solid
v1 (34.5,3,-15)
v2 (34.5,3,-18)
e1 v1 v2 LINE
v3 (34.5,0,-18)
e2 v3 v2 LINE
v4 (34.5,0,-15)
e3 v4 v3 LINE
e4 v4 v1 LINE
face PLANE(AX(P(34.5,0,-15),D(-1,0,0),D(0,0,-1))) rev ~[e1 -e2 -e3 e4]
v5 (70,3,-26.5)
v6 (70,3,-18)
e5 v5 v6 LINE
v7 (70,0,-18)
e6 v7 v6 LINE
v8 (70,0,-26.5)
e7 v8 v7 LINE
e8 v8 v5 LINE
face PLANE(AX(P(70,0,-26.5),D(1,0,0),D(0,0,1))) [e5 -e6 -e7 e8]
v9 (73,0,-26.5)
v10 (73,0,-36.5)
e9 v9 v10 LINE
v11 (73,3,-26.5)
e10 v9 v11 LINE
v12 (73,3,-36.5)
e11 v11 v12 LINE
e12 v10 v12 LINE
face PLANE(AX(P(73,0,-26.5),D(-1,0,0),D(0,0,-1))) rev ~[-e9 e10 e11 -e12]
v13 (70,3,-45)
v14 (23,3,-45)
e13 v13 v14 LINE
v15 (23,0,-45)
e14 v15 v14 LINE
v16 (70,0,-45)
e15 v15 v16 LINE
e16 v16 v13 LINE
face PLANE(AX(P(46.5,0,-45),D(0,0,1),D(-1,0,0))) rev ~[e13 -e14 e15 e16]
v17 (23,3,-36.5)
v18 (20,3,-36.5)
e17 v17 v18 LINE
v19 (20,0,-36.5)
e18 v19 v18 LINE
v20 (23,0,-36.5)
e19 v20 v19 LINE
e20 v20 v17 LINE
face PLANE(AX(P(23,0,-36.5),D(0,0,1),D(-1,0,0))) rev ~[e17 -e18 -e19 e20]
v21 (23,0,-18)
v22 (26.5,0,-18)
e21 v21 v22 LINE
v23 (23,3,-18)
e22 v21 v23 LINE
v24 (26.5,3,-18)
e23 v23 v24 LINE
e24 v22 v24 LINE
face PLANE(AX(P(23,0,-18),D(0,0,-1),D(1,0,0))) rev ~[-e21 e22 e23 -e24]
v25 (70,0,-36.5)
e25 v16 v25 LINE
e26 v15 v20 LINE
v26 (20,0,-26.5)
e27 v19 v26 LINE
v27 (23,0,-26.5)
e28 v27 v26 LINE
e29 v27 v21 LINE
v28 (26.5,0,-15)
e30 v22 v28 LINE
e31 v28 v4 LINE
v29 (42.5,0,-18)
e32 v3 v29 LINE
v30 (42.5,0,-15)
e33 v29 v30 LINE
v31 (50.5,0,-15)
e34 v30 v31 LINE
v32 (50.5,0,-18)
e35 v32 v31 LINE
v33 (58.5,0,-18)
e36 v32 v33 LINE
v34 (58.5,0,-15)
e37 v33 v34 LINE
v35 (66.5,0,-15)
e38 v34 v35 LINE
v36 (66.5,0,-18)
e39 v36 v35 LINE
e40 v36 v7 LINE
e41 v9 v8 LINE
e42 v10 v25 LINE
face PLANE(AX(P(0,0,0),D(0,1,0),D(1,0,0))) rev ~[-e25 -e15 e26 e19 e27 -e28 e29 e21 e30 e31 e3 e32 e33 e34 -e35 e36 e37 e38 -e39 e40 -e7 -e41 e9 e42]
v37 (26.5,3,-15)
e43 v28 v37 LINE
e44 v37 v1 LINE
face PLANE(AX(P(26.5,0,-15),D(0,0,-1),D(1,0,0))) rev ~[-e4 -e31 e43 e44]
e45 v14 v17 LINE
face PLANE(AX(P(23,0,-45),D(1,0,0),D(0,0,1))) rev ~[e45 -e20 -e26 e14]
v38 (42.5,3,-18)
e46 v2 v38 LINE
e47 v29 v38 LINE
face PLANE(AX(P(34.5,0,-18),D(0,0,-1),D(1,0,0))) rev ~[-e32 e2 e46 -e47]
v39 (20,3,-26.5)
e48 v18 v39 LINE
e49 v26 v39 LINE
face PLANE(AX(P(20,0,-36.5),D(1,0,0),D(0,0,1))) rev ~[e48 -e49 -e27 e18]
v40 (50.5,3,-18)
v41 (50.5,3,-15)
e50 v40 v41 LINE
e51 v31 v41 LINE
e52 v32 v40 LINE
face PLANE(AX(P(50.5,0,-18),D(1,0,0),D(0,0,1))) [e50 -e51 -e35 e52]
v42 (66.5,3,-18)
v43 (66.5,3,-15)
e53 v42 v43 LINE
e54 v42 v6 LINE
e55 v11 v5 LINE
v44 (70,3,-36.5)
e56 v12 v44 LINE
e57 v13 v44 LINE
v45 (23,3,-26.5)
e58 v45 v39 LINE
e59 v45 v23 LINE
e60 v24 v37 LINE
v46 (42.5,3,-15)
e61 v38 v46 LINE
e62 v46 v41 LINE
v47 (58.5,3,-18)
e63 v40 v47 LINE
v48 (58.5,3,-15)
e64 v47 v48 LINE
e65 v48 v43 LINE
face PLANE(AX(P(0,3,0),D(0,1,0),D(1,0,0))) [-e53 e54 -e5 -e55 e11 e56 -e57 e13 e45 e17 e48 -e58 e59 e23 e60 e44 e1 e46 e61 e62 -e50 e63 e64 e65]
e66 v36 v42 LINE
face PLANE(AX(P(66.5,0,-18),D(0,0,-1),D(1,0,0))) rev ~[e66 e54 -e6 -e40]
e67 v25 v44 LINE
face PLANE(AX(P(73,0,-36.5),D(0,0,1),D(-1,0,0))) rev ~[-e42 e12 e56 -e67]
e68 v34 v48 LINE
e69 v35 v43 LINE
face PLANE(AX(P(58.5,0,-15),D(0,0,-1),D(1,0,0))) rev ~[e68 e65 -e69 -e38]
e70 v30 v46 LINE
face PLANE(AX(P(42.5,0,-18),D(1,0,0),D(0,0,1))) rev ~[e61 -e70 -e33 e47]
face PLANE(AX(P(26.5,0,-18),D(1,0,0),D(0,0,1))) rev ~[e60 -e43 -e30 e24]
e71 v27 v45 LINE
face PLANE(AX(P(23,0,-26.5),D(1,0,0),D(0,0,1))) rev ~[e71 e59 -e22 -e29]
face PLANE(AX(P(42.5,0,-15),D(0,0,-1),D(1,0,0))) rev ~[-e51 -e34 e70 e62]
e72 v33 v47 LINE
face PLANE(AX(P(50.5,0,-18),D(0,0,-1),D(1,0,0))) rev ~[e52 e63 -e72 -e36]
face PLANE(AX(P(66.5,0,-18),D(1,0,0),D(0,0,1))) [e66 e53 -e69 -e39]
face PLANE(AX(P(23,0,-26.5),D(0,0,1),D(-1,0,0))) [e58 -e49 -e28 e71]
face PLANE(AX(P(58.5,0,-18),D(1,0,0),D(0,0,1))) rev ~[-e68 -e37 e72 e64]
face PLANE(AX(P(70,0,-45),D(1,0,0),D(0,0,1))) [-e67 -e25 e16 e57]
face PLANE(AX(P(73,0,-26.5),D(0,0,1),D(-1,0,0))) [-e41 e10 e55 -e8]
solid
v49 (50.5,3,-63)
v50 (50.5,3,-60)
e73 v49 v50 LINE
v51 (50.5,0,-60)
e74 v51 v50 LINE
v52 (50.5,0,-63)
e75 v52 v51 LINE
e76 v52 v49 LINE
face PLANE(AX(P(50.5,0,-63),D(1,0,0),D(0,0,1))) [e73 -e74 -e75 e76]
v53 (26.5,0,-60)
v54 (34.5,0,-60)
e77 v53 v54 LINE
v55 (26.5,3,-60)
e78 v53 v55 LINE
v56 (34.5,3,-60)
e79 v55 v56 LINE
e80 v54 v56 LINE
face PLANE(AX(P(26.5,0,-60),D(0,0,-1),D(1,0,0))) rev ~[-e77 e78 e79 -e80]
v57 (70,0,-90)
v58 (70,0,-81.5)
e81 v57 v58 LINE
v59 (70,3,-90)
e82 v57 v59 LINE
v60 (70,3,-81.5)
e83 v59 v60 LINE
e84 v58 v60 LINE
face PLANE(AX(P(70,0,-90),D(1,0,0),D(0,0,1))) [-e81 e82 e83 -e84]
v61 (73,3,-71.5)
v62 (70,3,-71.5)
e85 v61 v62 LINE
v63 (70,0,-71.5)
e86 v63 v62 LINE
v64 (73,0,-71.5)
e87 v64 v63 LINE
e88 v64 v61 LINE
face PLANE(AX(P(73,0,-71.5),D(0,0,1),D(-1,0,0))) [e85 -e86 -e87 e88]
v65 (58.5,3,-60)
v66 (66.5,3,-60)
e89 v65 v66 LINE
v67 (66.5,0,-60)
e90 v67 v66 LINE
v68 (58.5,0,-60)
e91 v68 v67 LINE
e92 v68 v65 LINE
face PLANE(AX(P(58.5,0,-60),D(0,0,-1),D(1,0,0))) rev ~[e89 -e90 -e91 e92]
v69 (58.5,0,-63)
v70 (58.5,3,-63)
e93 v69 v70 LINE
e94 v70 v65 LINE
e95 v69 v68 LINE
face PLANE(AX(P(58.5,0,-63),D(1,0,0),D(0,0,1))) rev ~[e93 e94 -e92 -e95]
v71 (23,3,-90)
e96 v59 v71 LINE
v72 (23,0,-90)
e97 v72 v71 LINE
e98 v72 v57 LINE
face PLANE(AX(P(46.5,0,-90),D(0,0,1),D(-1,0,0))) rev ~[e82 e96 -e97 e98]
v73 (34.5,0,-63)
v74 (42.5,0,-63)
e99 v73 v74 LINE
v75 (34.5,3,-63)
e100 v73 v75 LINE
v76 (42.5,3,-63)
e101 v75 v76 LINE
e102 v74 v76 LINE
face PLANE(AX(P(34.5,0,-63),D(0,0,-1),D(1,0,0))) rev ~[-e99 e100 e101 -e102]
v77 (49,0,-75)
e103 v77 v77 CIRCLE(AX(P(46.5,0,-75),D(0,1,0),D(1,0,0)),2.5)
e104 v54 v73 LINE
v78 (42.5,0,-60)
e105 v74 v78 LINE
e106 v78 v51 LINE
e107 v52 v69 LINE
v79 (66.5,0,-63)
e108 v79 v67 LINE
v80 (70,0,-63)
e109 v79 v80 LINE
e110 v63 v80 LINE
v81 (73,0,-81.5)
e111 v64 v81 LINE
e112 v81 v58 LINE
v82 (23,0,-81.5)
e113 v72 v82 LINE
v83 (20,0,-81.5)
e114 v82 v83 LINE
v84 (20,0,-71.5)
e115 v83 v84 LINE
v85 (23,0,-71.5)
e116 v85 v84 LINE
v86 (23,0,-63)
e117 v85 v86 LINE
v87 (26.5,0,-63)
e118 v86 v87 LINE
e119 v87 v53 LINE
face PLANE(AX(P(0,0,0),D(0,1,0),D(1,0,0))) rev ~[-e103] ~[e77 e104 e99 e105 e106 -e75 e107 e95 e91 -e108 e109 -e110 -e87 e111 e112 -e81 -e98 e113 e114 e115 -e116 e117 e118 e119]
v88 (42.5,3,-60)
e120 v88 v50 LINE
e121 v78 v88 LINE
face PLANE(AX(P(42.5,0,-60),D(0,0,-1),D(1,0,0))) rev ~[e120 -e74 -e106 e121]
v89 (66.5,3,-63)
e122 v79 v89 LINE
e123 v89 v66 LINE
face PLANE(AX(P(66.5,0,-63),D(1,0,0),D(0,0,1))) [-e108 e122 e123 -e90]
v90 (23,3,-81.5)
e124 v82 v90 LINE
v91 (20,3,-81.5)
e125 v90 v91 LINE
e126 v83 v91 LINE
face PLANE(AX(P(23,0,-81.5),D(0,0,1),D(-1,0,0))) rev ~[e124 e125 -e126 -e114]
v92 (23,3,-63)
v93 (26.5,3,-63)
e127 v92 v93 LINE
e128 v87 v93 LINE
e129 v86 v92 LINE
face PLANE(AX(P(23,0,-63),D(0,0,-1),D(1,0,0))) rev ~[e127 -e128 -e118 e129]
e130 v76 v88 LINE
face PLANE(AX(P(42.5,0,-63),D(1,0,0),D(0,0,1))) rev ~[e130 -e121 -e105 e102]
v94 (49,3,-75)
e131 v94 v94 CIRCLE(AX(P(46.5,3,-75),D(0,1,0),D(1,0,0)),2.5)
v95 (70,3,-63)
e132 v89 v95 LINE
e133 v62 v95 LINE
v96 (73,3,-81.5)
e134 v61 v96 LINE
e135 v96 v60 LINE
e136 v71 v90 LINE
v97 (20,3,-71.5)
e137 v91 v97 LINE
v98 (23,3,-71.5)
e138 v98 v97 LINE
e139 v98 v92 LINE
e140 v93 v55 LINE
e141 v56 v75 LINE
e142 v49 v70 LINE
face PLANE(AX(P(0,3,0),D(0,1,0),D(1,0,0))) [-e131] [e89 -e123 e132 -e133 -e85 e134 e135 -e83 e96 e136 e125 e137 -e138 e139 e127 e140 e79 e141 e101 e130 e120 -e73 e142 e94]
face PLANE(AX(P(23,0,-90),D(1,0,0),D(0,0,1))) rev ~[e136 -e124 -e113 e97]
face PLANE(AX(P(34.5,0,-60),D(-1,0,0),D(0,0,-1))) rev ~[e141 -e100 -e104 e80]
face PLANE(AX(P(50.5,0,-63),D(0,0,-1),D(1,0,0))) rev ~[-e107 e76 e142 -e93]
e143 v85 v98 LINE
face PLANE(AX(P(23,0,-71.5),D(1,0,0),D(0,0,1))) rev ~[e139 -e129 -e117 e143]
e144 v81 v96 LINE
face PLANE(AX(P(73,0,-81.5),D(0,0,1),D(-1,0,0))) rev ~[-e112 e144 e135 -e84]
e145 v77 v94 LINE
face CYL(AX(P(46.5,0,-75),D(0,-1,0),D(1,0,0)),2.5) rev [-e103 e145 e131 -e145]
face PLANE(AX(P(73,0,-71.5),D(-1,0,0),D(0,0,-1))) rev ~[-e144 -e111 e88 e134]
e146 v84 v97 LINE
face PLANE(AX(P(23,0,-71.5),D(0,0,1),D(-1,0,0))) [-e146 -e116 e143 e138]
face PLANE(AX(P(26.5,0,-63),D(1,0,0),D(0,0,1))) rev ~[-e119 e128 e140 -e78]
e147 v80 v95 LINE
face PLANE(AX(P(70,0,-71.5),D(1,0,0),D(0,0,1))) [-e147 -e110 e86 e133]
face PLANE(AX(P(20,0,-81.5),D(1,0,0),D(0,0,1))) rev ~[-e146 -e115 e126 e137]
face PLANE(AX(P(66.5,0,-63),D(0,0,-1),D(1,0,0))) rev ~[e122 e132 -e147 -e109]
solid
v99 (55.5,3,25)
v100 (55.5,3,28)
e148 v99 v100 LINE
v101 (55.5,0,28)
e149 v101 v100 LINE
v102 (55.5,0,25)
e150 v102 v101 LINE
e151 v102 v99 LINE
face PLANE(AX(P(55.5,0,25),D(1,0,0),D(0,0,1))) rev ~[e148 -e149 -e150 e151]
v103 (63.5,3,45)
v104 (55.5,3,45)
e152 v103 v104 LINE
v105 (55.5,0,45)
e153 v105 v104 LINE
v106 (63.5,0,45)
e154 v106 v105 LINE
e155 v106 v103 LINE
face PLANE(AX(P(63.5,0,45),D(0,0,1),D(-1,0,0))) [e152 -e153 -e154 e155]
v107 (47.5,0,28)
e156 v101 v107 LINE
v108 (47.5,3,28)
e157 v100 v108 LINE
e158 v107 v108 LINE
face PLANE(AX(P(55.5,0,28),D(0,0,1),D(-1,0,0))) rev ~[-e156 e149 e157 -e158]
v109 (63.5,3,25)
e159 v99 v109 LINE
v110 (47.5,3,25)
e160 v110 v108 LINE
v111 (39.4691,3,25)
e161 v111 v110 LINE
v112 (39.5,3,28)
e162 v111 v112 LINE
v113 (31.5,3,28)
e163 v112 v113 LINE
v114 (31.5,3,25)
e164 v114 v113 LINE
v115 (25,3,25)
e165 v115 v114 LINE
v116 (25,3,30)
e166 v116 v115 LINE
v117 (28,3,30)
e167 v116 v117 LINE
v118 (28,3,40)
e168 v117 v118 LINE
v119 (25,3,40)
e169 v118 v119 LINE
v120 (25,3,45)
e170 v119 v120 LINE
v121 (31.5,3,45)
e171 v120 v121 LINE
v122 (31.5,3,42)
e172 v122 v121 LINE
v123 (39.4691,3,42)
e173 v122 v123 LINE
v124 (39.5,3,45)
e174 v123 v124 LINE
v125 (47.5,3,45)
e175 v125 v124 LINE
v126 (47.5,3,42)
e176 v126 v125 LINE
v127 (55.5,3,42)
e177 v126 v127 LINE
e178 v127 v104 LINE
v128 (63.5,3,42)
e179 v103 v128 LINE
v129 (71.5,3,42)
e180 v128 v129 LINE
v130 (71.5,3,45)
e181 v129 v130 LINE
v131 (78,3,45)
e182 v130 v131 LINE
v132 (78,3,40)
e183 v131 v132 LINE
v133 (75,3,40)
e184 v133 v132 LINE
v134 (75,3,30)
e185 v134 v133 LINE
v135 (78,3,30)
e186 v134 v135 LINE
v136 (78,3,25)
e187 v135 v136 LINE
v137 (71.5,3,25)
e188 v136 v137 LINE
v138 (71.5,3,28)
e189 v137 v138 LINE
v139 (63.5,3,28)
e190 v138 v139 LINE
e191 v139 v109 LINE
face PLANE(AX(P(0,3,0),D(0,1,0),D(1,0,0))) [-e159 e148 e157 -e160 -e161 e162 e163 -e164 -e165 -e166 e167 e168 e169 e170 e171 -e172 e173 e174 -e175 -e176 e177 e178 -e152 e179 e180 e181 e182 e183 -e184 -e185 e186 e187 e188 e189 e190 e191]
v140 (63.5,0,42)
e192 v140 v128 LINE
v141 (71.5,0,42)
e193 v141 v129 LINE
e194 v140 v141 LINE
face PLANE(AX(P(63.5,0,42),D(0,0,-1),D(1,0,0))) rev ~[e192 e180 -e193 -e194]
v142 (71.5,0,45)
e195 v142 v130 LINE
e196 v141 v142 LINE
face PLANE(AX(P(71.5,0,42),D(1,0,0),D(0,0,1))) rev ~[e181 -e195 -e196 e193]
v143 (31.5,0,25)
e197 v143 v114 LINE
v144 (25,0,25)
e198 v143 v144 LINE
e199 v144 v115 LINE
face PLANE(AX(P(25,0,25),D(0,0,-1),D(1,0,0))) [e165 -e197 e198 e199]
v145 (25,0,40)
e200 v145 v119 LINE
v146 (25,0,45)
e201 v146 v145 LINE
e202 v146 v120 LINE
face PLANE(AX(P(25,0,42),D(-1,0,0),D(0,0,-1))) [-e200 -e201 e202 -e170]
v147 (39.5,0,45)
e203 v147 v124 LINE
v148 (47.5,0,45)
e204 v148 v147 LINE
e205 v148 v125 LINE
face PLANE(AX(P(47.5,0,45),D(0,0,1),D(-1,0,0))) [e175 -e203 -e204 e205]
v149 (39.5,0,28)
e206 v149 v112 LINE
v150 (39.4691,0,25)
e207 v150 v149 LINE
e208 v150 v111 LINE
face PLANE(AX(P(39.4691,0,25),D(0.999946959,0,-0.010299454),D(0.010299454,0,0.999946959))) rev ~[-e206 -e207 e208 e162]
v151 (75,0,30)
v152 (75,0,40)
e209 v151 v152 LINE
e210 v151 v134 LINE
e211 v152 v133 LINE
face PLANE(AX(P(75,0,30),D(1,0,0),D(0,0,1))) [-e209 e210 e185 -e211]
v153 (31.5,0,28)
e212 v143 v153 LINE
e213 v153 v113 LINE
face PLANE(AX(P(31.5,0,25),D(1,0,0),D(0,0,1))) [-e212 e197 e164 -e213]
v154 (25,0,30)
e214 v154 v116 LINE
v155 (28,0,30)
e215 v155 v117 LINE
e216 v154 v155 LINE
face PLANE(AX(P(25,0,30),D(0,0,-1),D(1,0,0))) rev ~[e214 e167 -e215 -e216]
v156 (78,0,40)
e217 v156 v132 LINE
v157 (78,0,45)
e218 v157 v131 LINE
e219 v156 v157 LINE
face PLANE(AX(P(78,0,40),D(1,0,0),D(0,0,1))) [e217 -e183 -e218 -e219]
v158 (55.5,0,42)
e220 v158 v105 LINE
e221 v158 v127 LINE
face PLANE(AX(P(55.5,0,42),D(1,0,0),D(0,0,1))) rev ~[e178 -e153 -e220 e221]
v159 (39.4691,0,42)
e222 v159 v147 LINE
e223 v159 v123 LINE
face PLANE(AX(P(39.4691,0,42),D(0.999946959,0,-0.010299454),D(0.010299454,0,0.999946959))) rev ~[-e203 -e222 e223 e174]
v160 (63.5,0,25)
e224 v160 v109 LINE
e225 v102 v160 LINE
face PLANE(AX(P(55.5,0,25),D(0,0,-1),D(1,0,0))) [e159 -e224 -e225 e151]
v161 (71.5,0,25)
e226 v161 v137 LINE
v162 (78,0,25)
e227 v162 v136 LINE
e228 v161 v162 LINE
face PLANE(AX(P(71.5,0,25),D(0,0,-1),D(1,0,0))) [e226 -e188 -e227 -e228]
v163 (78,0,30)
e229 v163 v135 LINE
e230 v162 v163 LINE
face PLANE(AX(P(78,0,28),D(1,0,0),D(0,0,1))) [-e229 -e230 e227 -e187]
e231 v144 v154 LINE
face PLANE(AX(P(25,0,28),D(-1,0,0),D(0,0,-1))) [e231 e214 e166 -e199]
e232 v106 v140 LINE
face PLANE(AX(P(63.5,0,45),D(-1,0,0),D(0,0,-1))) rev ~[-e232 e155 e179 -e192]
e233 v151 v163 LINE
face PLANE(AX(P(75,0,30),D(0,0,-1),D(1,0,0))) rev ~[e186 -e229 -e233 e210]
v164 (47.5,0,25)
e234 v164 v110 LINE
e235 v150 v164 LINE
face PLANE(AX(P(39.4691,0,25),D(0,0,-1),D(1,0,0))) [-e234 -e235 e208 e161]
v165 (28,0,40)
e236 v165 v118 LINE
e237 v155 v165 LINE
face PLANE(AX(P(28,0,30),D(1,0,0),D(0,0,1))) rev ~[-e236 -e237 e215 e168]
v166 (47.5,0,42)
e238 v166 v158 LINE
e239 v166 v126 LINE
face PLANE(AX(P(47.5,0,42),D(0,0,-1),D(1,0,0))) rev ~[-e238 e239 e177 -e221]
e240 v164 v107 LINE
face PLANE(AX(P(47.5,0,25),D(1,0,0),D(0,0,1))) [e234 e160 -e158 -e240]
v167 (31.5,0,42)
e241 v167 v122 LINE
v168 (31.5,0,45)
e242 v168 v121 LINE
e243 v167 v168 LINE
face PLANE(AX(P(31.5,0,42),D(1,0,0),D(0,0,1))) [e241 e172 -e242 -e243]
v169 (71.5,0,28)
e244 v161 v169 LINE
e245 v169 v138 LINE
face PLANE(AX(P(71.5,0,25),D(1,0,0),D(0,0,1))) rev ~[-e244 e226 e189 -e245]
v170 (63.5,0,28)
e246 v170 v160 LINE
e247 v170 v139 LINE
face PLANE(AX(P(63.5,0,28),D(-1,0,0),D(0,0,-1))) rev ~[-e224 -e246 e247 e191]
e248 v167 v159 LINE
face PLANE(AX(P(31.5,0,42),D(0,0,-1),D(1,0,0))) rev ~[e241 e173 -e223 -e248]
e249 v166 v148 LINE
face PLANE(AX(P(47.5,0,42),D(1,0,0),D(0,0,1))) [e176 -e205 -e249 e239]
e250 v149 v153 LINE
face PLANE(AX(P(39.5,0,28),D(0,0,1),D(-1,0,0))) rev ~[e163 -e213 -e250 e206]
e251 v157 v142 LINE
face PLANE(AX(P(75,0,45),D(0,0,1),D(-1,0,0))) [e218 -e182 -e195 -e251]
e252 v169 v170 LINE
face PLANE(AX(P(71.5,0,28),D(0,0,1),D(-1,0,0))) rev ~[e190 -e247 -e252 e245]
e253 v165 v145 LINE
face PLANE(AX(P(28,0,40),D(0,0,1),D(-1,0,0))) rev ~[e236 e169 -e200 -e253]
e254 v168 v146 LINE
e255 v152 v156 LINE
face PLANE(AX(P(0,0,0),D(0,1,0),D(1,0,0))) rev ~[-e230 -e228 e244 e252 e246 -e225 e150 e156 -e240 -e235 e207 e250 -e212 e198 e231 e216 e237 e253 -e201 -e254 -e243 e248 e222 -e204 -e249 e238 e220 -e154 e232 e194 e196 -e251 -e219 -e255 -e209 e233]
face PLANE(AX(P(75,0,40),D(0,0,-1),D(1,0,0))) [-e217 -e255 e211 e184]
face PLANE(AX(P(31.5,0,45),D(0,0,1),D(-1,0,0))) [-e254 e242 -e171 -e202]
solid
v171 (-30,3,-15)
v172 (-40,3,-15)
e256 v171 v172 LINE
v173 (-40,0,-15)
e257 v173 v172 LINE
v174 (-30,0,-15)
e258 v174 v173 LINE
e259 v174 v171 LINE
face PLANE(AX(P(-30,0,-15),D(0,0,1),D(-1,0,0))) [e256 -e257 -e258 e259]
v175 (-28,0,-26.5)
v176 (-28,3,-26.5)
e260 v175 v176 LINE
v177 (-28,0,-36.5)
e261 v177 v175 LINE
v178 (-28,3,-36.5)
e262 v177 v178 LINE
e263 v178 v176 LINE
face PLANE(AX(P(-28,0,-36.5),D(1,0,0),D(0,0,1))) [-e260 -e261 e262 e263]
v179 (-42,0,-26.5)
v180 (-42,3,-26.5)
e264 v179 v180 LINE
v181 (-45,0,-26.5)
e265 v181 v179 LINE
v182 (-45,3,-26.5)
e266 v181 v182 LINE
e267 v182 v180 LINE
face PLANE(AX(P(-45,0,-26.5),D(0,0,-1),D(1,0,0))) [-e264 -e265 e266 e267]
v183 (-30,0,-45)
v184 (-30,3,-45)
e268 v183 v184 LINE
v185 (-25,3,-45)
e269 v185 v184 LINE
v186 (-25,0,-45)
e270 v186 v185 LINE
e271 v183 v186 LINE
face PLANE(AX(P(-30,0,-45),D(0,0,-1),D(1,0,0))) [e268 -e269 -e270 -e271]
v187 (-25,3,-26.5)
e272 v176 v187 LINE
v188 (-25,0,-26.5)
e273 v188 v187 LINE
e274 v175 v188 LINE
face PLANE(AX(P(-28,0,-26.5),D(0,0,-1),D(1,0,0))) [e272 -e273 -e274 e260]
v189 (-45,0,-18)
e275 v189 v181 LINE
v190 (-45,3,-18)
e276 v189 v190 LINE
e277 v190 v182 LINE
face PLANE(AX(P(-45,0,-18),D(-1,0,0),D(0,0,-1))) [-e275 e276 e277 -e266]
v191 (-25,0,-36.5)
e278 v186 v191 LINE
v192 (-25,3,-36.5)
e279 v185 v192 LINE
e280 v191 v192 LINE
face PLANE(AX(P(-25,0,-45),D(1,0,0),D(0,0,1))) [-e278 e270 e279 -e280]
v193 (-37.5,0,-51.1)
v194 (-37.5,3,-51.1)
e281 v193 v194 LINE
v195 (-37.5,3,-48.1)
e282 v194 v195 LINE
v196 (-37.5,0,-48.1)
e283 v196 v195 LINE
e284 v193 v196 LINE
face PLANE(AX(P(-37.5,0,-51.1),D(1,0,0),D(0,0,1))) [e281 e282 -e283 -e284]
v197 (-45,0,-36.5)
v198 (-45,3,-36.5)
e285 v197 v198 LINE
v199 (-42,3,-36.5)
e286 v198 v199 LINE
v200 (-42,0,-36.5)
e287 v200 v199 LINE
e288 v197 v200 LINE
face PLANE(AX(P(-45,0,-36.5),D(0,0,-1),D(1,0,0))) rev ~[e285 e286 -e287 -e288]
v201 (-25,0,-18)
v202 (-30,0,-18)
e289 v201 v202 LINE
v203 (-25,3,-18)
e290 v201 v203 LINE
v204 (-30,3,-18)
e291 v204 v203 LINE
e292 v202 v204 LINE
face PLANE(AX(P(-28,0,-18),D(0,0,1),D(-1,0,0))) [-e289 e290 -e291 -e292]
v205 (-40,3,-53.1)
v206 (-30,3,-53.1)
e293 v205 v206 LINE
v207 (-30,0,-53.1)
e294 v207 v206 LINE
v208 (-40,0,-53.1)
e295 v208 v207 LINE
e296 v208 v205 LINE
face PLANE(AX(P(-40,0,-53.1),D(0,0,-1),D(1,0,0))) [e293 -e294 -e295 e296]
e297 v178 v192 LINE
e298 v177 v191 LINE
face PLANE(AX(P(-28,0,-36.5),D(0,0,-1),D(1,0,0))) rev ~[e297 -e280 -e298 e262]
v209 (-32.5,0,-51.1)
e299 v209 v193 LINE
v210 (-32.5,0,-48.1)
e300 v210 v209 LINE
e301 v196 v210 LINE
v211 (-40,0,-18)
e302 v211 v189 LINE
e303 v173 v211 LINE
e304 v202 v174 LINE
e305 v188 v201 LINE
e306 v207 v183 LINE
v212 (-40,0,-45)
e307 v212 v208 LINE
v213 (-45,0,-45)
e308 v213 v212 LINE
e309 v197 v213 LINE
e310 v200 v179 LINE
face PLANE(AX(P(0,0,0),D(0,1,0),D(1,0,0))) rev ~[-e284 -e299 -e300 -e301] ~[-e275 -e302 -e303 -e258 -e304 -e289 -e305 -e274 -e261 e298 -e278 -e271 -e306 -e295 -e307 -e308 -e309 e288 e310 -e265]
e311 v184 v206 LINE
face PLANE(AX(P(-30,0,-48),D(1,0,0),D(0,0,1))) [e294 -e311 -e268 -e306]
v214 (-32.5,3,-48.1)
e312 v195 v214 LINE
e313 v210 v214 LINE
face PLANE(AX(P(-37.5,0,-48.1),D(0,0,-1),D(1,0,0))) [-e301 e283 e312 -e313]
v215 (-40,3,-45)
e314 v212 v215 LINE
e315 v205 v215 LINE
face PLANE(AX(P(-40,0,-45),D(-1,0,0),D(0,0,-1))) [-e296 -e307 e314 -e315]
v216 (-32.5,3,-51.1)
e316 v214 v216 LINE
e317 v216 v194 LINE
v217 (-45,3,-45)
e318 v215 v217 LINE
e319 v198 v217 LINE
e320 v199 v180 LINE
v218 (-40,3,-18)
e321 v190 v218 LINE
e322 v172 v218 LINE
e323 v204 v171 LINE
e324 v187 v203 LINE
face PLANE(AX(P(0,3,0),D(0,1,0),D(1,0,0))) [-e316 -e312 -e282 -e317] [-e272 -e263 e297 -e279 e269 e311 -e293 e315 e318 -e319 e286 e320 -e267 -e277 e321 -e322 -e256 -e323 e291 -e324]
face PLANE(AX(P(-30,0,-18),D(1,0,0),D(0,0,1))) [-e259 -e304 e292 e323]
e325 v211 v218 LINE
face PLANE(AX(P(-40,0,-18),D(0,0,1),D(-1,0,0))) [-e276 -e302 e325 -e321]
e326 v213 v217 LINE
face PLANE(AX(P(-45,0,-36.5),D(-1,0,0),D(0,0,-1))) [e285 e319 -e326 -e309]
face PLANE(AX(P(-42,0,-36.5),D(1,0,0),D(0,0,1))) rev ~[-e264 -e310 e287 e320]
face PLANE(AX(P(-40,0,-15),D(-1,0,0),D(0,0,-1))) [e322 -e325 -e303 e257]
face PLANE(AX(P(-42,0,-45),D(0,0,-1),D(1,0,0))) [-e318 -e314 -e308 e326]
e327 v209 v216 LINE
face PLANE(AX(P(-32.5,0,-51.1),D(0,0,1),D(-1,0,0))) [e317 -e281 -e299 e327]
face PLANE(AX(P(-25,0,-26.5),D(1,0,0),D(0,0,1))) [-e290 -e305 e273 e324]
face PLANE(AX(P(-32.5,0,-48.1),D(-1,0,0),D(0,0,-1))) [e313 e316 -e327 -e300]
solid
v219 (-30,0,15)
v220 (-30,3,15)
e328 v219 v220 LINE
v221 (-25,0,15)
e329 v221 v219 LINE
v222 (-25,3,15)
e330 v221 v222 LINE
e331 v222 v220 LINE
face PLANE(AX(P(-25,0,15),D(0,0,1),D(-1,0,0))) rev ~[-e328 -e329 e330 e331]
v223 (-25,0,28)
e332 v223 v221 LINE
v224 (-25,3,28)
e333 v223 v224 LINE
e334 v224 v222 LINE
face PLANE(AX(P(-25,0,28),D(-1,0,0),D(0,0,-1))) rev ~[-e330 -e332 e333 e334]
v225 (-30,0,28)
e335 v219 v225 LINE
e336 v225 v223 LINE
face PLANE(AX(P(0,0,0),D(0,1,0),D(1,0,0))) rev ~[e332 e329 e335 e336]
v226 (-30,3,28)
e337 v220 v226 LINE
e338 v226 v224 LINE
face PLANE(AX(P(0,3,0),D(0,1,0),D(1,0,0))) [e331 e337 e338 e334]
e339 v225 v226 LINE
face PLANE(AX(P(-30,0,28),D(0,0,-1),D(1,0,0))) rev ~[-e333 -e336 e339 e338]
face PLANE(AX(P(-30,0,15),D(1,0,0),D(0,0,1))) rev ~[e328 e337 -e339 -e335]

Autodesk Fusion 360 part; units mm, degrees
sketch "Cara_base" plane through (0, 0, 0) normal (0, 1, 0) x (1, 0, 0)
  line L0 (25, -25) -> (78, -25)
  line L1 (78, -25) -> (78, -45)
  line L2 (78, -45) -> (25, -45)
  line L3 (25, -45) -> (25, -25)
  line L4 (25, -45) -> (28, -45)
  line L5 (28, -25) -> (28, -45)
  line L6 (78, -45) -> (75, -45)
  line L7 (75, -25) -> (75, -45)
  line L8 (25, -25) -> (25, -28)
  line L9 (78, -28) -> (25, -28)
  line L10 (25, -45) -> (25, -42)
  line L11 (25, -42) -> (78, -42)
  line L12 (25, -25) -> (25, -30)
  line L13 (25, -30) -> (28, -30)
  line L14 (28, -40) -> (25, -40)
  line L15 (75, -30) -> (78, -30)
  line L16 (75, -40) -> (78, -40)
  line L17 (28, -25) -> (31.5, -25)
  line L18 (31.5, -25) -> (31.5, -28)
  line L19 (75, -28) -> (71.5, -28)
  line L20 (31.5, -28) -> (39.5, -28)
  line L21 (39.4691, -25) -> (39.5, -28)
  line L22 (39.5, -28) -> (47.5, -28)
  line L23 (47.5, -25) -> (47.5, -28)
  line L24 (47.5, -28) -> (55.5, -28)
  line L25 (55.5, -25) -> (55.5, -28)
  line L26 (55.5, -28) -> (63.5, -28)
  line L27 (63.5, -28) -> (63.5, -25)
  line L28 (63.5, -28) -> (71.5, -28)
  line L29 (71.5, -25) -> (71.5, -28)
  line L30 (31.5, -42) -> (31.5, -45)
  line L31 (39.4691, -42) -> (39.5, -45)
  line L32 (47.5, -42) -> (47.5, -45)
  line L33 (55.5, -42) -> (55.5, -45)
  line L34 (63.5, -45) -> (63.5, -42)
  line L35 (71.5, -42) -> (71.5, -45)
  dimension "d1" = 53
  dimension "d2" = 20
  dimension "d3" = 3.5
  dimension "d4" = 3.5
  dimension "d5" = 8
  dimension "d6" = 8
  dimension "d7" = 8
  dimension "d8" = 8
  dimension "d11" = 0
  dimension "d12" = -17
extrude "Extrude1" add sketch "Cara_base" along normal blind 3 contours L0 L3 L5 L8 L9 L12 | L0 L5 L9 L17 L18 | L3 L5 L9 L12 L13 | L5 L7 L9 L11 L19 L20 L22 L24 L26 L28 | L0 L9 L21 L22 L23 | L3 L5 L11 L14 | L2 L3 L4 L5 L10 L11 | L0 L9 L25 L26 L27 | L2 L5 L11 L30 | L0 L7 L9 L19 L29 | L2 L11 L31 L32 | L0 L1 L7 L9 | L1 L7 L9 L15 | L2 L11 L33 L34 | L1 L7 L11 L16 | L2 L7 L11 L35 | L1 L2 L6 L7 L11 makes body 1
sketch "Cara_frontal" plane through (0, 0, 0) normal (0, 1, 0) x (1, 0, 0)
  line L0 (20, 15) -> (73, 15)
  line L1 (73, 15) -> (73, 45)
  line L2 (73, 45) -> (20, 45)
  line L3 (20, 45) -> (20, 15)
  line L4 (20, 15) -> (20, 18)
  line L5 (20, 18) -> (73, 18)
  line L6 (20, 18) -> (26.5, 18)
  line L7 (26.5, 18) -> (26.5, 15)
  line L8 (26.5, 15) -> (34.5, 15)
  line L9 (34.5, 15) -> (34.5, 18)
  line L10 (34.5, 15) -> (42.5, 15)
  line L11 (42.5, 15) -> (50.5, 15)
  line L12 (50.5, 15) -> (58.5, 15)
  line L13 (58.5, 15) -> (66.5, 15)
  line L14 (66.5, 15) -> (73, 15)
  line L15 (42.5, 18) -> (42.5, 15)
  line L16 (50.5, 18) -> (50.5, 15)
  line L17 (58.5, 18) -> (58.5, 15)
  line L18 (66.5, 18) -> (66.5, 15)
  line L19 (20, 45) -> (23, 45)
  line L20 (23, 45) -> (23, 36.5)
  line L21 (23, 36.5) -> (20, 36.5)
  line L22 (23, 36.5) -> (23, 26.5)
  line L23 (23, 26.5) -> (20, 26.5)
  line L24 (23, 26.5) -> (23, 18)
  line L25 (73, 26.5) -> (70, 26.5)
  line L26 (73, 36.5) -> (70, 36.5)
  line L27 (70, 45) -> (70, 18)
  line L28 (23, 45) -> (46.5, 45)
  circle A0 centre (46.5, 30) radius 2.5
  line L29 (26.5, 63) -> (26.5, 60)
  line L30 (73, 90) -> (20, 90)
  circle A1 centre (46.5, 75) radius 2.5
  line L31 (20, 90) -> (23, 90)
  line L32 (73, 60) -> (73, 90)
  line L33 (73, 71.5) -> (70, 71.5)
  line L34 (20, 63) -> (26.5, 63)
  line L35 (23, 81.5) -> (20, 81.5)
  line L36 (66.5, 60) -> (73, 60)
  line L37 (58.5, 60) -> (66.5, 60)
  line L38 (50.5, 60) -> (58.5, 60)
  line L39 (20, 60) -> (73, 60)
  line L40 (23, 81.5) -> (23, 71.5)
  line L41 (42.5, 60) -> (50.5, 60)
  line L42 (50.5, 63) -> (50.5, 60)
  line L43 (73, 81.5) -> (70, 81.5)
  line L44 (23, 71.5) -> (20, 71.5)
  line L45 (70, 90) -> (70, 63)
  line L46 (42.5, 63) -> (42.5, 60)
  line L47 (26.5, 60) -> (34.5, 60)
  line L48 (34.5, 60) -> (42.5, 60)
  line L49 (23, 71.5) -> (23, 63)
  line L50 (34.5, 60) -> (34.5, 63)
  line L51 (20, 60) -> (20, 63)
  line L52 (58.5, 63) -> (58.5, 60)
  line L53 (20, 90) -> (20, 60)
  line L54 (66.5, 63) -> (66.5, 60)
  line L55 (23, 90) -> (46.5, 90)
  line L56 (20, 63) -> (73, 63)
  line L57 (23, 90) -> (23, 81.5)
  dimension "d15" = 30
  dimension "d16" = 53
  dimension "d48" = 5
  dimension "d49" = 30
  dimension "d50" = 53
  dimension "d51" = 5
extrude "Extrude3" add sketch "Cara_frontal" along normal blind 3 separate body contours L0 L5 L7 L8 L9 | L2 L5 L6 L20 L22 L24 L27 L28 | L3 L21 L22 L23 | L0 L5 L11 L15 L16 | L0 L5 L13 L17 L18 | L1 L25 L26 L27 | A0 makes body 2
sketch "Cara_lateral" plane through (0, 0, 0) normal (0, 1, 0) x (1, 0, 0)
  line L0 (-25, 15) -> (-45, 15)
  line L1 (-45, 15) -> (-45, 45)
  line L2 (-45, 45) -> (-25, 45)
  line L3 (-25, 45) -> (-25, 15)
  line L4 (-45, 15) -> (-40, 15)
  line L5 (-40, 15) -> (-40, 18)
  line L6 (-40, 18) -> (-45, 18)
  line L7 (-25, 18) -> (-30, 18)
  line L8 (-30, 18) -> (-30, 15)
  line L9 (-40, 45) -> (-40, 55)
  line L10 (-30, 55) -> (-30, 45)
  line L11 (-40, 45) -> (-40, 48)
  line L12 (-40, 48) -> (-30, 48)
  line L13 (-37.5, 48.1) -> (-32.5, 48.1)
  line L14 (-32.5, 48.1) -> (-32.5, 51.1)
  line L15 (-32.5, 51.1) -> (-37.5, 51.1)
  line L16 (-37.5, 51.1) -> (-37.5, 48.1)
  line L17 (-42.0655, 51.1) -> (-42.0655, 53.1)
  line L18 (-40, 53.1) -> (-30, 53.1)
  line L19 (-45, 46.8941) -> (-42, 46.8941)
  line L20 (-25, 48.2189) -> (-28, 48.2189)
  line L21 (-42, 45) -> (-42, 18)
  line L22 (-28, 45) -> (-28, 18)
  line L23 (-49.1237, 45) -> (-49.1237, 36.5)
  line L24 (-49.1237, 36.5) -> (-49.1237, 26.5)
  line L25 (-49.1237, 26.5) -> (-49.1237, 18)
  line L26 (-45, 36.5) -> (-42, 36.5)
  line L27 (-45, 26.5) -> (-42, 26.5)
  line L28 (-28, 26.5) -> (-25, 26.5)
  line L29 (-28, 36.5) -> (-25, 36.5)
  dimension "d25" = 20
  dimension "d26" = 30
  dimension "d31" = 2.5
  dimension "d32" = 2.5
  dimension "d35" = 2
  dimension "d38" = 8.5
  dimension "d39" = 10
  dimension "d40" = 8.5
extrude "Extrude2" add sketch "Cara_lateral" along normal blind 3 separate body contours L0 L2 L5 L6 L7 L8 L21 L22 | L3 L7 L22 L28 | L2 L3 L22 L29 | L1 L6 L21 L27 | L1 L2 L21 L26 | L2 L9 L10 L11 L12 | L9 L10 L12 L18 makes body 3
extrude "Extrude4" add sketch "Cara_frontal" along normal blind 3 separate body contours L29 L39 L47 L50 L56 | L30 L34 L40 L45 L49 L55 L56 L57 | L35 L40 L44 L53 | L39 L41 L42 L46 L56 | L37 L39 L52 L54 L56 | L32 L33 L43 L45 makes body 4
copy_body "Body->Comp1" bodies 1 removing the originals makes body 5 in component "Cara_Base"
copy_body "Body->Comp2" bodies 2 removing the originals makes body 6 in component "Frontal_tapa"
copy_body "Body->Comp3" bodies 4 removing the originals makes body 7 in component "Frontal_frente"
copy_body "Body->Comp4" bodies 3 removing the originals makes body 8 in component "Lateral"
sketch "Sketch4" plane through (0, 0, 0) normal (0, 1, 0) x (1, 0, 0)
  line L0 (-25, -15) -> (-30, -15)
  line L1 (-30, -15) -> (-30, -28)
  line L2 (-30, -28) -> (-25, -28)
  line L3 (-25, -28) -> (-25, -15)
  dimension "d56" = 5
  dimension "d57" = 13
extrude "Extrude5" add sketch "Sketch4" along normal blind 3 separate body makes body 9
copy_body "Body->Comp5" bodies 9 removing the originals makes body 10 in component "Pasador"
component "Cara_Base" placed x (1, 0, 0) y (0, 1, 0) z (0, 0, 1) at (0, 0, 0)
component "Frontal_tapa" placed x (1, 0, 0) y (0, 1, 0) z (0, 0, 1) at (0, 0, 0)
component "Frontal_frente" placed x (1, 0, 0) y (0, 1, 0) z (0, 0, 1) at (0, 0, 0)
component "Lateral" placed x (1, 0, 0) y (0, 1, 0) z (0, 0, 1) at (0, 0, 0)
component "Pasador" placed x (1, 0, 0) y (0, 1, 0) z (0, 0, 1) at (0, 0, 0)
equation "d38 = ( 17 / 2 ) * 1 mm"
equation "d57 = 3 mm + 10 mm"
